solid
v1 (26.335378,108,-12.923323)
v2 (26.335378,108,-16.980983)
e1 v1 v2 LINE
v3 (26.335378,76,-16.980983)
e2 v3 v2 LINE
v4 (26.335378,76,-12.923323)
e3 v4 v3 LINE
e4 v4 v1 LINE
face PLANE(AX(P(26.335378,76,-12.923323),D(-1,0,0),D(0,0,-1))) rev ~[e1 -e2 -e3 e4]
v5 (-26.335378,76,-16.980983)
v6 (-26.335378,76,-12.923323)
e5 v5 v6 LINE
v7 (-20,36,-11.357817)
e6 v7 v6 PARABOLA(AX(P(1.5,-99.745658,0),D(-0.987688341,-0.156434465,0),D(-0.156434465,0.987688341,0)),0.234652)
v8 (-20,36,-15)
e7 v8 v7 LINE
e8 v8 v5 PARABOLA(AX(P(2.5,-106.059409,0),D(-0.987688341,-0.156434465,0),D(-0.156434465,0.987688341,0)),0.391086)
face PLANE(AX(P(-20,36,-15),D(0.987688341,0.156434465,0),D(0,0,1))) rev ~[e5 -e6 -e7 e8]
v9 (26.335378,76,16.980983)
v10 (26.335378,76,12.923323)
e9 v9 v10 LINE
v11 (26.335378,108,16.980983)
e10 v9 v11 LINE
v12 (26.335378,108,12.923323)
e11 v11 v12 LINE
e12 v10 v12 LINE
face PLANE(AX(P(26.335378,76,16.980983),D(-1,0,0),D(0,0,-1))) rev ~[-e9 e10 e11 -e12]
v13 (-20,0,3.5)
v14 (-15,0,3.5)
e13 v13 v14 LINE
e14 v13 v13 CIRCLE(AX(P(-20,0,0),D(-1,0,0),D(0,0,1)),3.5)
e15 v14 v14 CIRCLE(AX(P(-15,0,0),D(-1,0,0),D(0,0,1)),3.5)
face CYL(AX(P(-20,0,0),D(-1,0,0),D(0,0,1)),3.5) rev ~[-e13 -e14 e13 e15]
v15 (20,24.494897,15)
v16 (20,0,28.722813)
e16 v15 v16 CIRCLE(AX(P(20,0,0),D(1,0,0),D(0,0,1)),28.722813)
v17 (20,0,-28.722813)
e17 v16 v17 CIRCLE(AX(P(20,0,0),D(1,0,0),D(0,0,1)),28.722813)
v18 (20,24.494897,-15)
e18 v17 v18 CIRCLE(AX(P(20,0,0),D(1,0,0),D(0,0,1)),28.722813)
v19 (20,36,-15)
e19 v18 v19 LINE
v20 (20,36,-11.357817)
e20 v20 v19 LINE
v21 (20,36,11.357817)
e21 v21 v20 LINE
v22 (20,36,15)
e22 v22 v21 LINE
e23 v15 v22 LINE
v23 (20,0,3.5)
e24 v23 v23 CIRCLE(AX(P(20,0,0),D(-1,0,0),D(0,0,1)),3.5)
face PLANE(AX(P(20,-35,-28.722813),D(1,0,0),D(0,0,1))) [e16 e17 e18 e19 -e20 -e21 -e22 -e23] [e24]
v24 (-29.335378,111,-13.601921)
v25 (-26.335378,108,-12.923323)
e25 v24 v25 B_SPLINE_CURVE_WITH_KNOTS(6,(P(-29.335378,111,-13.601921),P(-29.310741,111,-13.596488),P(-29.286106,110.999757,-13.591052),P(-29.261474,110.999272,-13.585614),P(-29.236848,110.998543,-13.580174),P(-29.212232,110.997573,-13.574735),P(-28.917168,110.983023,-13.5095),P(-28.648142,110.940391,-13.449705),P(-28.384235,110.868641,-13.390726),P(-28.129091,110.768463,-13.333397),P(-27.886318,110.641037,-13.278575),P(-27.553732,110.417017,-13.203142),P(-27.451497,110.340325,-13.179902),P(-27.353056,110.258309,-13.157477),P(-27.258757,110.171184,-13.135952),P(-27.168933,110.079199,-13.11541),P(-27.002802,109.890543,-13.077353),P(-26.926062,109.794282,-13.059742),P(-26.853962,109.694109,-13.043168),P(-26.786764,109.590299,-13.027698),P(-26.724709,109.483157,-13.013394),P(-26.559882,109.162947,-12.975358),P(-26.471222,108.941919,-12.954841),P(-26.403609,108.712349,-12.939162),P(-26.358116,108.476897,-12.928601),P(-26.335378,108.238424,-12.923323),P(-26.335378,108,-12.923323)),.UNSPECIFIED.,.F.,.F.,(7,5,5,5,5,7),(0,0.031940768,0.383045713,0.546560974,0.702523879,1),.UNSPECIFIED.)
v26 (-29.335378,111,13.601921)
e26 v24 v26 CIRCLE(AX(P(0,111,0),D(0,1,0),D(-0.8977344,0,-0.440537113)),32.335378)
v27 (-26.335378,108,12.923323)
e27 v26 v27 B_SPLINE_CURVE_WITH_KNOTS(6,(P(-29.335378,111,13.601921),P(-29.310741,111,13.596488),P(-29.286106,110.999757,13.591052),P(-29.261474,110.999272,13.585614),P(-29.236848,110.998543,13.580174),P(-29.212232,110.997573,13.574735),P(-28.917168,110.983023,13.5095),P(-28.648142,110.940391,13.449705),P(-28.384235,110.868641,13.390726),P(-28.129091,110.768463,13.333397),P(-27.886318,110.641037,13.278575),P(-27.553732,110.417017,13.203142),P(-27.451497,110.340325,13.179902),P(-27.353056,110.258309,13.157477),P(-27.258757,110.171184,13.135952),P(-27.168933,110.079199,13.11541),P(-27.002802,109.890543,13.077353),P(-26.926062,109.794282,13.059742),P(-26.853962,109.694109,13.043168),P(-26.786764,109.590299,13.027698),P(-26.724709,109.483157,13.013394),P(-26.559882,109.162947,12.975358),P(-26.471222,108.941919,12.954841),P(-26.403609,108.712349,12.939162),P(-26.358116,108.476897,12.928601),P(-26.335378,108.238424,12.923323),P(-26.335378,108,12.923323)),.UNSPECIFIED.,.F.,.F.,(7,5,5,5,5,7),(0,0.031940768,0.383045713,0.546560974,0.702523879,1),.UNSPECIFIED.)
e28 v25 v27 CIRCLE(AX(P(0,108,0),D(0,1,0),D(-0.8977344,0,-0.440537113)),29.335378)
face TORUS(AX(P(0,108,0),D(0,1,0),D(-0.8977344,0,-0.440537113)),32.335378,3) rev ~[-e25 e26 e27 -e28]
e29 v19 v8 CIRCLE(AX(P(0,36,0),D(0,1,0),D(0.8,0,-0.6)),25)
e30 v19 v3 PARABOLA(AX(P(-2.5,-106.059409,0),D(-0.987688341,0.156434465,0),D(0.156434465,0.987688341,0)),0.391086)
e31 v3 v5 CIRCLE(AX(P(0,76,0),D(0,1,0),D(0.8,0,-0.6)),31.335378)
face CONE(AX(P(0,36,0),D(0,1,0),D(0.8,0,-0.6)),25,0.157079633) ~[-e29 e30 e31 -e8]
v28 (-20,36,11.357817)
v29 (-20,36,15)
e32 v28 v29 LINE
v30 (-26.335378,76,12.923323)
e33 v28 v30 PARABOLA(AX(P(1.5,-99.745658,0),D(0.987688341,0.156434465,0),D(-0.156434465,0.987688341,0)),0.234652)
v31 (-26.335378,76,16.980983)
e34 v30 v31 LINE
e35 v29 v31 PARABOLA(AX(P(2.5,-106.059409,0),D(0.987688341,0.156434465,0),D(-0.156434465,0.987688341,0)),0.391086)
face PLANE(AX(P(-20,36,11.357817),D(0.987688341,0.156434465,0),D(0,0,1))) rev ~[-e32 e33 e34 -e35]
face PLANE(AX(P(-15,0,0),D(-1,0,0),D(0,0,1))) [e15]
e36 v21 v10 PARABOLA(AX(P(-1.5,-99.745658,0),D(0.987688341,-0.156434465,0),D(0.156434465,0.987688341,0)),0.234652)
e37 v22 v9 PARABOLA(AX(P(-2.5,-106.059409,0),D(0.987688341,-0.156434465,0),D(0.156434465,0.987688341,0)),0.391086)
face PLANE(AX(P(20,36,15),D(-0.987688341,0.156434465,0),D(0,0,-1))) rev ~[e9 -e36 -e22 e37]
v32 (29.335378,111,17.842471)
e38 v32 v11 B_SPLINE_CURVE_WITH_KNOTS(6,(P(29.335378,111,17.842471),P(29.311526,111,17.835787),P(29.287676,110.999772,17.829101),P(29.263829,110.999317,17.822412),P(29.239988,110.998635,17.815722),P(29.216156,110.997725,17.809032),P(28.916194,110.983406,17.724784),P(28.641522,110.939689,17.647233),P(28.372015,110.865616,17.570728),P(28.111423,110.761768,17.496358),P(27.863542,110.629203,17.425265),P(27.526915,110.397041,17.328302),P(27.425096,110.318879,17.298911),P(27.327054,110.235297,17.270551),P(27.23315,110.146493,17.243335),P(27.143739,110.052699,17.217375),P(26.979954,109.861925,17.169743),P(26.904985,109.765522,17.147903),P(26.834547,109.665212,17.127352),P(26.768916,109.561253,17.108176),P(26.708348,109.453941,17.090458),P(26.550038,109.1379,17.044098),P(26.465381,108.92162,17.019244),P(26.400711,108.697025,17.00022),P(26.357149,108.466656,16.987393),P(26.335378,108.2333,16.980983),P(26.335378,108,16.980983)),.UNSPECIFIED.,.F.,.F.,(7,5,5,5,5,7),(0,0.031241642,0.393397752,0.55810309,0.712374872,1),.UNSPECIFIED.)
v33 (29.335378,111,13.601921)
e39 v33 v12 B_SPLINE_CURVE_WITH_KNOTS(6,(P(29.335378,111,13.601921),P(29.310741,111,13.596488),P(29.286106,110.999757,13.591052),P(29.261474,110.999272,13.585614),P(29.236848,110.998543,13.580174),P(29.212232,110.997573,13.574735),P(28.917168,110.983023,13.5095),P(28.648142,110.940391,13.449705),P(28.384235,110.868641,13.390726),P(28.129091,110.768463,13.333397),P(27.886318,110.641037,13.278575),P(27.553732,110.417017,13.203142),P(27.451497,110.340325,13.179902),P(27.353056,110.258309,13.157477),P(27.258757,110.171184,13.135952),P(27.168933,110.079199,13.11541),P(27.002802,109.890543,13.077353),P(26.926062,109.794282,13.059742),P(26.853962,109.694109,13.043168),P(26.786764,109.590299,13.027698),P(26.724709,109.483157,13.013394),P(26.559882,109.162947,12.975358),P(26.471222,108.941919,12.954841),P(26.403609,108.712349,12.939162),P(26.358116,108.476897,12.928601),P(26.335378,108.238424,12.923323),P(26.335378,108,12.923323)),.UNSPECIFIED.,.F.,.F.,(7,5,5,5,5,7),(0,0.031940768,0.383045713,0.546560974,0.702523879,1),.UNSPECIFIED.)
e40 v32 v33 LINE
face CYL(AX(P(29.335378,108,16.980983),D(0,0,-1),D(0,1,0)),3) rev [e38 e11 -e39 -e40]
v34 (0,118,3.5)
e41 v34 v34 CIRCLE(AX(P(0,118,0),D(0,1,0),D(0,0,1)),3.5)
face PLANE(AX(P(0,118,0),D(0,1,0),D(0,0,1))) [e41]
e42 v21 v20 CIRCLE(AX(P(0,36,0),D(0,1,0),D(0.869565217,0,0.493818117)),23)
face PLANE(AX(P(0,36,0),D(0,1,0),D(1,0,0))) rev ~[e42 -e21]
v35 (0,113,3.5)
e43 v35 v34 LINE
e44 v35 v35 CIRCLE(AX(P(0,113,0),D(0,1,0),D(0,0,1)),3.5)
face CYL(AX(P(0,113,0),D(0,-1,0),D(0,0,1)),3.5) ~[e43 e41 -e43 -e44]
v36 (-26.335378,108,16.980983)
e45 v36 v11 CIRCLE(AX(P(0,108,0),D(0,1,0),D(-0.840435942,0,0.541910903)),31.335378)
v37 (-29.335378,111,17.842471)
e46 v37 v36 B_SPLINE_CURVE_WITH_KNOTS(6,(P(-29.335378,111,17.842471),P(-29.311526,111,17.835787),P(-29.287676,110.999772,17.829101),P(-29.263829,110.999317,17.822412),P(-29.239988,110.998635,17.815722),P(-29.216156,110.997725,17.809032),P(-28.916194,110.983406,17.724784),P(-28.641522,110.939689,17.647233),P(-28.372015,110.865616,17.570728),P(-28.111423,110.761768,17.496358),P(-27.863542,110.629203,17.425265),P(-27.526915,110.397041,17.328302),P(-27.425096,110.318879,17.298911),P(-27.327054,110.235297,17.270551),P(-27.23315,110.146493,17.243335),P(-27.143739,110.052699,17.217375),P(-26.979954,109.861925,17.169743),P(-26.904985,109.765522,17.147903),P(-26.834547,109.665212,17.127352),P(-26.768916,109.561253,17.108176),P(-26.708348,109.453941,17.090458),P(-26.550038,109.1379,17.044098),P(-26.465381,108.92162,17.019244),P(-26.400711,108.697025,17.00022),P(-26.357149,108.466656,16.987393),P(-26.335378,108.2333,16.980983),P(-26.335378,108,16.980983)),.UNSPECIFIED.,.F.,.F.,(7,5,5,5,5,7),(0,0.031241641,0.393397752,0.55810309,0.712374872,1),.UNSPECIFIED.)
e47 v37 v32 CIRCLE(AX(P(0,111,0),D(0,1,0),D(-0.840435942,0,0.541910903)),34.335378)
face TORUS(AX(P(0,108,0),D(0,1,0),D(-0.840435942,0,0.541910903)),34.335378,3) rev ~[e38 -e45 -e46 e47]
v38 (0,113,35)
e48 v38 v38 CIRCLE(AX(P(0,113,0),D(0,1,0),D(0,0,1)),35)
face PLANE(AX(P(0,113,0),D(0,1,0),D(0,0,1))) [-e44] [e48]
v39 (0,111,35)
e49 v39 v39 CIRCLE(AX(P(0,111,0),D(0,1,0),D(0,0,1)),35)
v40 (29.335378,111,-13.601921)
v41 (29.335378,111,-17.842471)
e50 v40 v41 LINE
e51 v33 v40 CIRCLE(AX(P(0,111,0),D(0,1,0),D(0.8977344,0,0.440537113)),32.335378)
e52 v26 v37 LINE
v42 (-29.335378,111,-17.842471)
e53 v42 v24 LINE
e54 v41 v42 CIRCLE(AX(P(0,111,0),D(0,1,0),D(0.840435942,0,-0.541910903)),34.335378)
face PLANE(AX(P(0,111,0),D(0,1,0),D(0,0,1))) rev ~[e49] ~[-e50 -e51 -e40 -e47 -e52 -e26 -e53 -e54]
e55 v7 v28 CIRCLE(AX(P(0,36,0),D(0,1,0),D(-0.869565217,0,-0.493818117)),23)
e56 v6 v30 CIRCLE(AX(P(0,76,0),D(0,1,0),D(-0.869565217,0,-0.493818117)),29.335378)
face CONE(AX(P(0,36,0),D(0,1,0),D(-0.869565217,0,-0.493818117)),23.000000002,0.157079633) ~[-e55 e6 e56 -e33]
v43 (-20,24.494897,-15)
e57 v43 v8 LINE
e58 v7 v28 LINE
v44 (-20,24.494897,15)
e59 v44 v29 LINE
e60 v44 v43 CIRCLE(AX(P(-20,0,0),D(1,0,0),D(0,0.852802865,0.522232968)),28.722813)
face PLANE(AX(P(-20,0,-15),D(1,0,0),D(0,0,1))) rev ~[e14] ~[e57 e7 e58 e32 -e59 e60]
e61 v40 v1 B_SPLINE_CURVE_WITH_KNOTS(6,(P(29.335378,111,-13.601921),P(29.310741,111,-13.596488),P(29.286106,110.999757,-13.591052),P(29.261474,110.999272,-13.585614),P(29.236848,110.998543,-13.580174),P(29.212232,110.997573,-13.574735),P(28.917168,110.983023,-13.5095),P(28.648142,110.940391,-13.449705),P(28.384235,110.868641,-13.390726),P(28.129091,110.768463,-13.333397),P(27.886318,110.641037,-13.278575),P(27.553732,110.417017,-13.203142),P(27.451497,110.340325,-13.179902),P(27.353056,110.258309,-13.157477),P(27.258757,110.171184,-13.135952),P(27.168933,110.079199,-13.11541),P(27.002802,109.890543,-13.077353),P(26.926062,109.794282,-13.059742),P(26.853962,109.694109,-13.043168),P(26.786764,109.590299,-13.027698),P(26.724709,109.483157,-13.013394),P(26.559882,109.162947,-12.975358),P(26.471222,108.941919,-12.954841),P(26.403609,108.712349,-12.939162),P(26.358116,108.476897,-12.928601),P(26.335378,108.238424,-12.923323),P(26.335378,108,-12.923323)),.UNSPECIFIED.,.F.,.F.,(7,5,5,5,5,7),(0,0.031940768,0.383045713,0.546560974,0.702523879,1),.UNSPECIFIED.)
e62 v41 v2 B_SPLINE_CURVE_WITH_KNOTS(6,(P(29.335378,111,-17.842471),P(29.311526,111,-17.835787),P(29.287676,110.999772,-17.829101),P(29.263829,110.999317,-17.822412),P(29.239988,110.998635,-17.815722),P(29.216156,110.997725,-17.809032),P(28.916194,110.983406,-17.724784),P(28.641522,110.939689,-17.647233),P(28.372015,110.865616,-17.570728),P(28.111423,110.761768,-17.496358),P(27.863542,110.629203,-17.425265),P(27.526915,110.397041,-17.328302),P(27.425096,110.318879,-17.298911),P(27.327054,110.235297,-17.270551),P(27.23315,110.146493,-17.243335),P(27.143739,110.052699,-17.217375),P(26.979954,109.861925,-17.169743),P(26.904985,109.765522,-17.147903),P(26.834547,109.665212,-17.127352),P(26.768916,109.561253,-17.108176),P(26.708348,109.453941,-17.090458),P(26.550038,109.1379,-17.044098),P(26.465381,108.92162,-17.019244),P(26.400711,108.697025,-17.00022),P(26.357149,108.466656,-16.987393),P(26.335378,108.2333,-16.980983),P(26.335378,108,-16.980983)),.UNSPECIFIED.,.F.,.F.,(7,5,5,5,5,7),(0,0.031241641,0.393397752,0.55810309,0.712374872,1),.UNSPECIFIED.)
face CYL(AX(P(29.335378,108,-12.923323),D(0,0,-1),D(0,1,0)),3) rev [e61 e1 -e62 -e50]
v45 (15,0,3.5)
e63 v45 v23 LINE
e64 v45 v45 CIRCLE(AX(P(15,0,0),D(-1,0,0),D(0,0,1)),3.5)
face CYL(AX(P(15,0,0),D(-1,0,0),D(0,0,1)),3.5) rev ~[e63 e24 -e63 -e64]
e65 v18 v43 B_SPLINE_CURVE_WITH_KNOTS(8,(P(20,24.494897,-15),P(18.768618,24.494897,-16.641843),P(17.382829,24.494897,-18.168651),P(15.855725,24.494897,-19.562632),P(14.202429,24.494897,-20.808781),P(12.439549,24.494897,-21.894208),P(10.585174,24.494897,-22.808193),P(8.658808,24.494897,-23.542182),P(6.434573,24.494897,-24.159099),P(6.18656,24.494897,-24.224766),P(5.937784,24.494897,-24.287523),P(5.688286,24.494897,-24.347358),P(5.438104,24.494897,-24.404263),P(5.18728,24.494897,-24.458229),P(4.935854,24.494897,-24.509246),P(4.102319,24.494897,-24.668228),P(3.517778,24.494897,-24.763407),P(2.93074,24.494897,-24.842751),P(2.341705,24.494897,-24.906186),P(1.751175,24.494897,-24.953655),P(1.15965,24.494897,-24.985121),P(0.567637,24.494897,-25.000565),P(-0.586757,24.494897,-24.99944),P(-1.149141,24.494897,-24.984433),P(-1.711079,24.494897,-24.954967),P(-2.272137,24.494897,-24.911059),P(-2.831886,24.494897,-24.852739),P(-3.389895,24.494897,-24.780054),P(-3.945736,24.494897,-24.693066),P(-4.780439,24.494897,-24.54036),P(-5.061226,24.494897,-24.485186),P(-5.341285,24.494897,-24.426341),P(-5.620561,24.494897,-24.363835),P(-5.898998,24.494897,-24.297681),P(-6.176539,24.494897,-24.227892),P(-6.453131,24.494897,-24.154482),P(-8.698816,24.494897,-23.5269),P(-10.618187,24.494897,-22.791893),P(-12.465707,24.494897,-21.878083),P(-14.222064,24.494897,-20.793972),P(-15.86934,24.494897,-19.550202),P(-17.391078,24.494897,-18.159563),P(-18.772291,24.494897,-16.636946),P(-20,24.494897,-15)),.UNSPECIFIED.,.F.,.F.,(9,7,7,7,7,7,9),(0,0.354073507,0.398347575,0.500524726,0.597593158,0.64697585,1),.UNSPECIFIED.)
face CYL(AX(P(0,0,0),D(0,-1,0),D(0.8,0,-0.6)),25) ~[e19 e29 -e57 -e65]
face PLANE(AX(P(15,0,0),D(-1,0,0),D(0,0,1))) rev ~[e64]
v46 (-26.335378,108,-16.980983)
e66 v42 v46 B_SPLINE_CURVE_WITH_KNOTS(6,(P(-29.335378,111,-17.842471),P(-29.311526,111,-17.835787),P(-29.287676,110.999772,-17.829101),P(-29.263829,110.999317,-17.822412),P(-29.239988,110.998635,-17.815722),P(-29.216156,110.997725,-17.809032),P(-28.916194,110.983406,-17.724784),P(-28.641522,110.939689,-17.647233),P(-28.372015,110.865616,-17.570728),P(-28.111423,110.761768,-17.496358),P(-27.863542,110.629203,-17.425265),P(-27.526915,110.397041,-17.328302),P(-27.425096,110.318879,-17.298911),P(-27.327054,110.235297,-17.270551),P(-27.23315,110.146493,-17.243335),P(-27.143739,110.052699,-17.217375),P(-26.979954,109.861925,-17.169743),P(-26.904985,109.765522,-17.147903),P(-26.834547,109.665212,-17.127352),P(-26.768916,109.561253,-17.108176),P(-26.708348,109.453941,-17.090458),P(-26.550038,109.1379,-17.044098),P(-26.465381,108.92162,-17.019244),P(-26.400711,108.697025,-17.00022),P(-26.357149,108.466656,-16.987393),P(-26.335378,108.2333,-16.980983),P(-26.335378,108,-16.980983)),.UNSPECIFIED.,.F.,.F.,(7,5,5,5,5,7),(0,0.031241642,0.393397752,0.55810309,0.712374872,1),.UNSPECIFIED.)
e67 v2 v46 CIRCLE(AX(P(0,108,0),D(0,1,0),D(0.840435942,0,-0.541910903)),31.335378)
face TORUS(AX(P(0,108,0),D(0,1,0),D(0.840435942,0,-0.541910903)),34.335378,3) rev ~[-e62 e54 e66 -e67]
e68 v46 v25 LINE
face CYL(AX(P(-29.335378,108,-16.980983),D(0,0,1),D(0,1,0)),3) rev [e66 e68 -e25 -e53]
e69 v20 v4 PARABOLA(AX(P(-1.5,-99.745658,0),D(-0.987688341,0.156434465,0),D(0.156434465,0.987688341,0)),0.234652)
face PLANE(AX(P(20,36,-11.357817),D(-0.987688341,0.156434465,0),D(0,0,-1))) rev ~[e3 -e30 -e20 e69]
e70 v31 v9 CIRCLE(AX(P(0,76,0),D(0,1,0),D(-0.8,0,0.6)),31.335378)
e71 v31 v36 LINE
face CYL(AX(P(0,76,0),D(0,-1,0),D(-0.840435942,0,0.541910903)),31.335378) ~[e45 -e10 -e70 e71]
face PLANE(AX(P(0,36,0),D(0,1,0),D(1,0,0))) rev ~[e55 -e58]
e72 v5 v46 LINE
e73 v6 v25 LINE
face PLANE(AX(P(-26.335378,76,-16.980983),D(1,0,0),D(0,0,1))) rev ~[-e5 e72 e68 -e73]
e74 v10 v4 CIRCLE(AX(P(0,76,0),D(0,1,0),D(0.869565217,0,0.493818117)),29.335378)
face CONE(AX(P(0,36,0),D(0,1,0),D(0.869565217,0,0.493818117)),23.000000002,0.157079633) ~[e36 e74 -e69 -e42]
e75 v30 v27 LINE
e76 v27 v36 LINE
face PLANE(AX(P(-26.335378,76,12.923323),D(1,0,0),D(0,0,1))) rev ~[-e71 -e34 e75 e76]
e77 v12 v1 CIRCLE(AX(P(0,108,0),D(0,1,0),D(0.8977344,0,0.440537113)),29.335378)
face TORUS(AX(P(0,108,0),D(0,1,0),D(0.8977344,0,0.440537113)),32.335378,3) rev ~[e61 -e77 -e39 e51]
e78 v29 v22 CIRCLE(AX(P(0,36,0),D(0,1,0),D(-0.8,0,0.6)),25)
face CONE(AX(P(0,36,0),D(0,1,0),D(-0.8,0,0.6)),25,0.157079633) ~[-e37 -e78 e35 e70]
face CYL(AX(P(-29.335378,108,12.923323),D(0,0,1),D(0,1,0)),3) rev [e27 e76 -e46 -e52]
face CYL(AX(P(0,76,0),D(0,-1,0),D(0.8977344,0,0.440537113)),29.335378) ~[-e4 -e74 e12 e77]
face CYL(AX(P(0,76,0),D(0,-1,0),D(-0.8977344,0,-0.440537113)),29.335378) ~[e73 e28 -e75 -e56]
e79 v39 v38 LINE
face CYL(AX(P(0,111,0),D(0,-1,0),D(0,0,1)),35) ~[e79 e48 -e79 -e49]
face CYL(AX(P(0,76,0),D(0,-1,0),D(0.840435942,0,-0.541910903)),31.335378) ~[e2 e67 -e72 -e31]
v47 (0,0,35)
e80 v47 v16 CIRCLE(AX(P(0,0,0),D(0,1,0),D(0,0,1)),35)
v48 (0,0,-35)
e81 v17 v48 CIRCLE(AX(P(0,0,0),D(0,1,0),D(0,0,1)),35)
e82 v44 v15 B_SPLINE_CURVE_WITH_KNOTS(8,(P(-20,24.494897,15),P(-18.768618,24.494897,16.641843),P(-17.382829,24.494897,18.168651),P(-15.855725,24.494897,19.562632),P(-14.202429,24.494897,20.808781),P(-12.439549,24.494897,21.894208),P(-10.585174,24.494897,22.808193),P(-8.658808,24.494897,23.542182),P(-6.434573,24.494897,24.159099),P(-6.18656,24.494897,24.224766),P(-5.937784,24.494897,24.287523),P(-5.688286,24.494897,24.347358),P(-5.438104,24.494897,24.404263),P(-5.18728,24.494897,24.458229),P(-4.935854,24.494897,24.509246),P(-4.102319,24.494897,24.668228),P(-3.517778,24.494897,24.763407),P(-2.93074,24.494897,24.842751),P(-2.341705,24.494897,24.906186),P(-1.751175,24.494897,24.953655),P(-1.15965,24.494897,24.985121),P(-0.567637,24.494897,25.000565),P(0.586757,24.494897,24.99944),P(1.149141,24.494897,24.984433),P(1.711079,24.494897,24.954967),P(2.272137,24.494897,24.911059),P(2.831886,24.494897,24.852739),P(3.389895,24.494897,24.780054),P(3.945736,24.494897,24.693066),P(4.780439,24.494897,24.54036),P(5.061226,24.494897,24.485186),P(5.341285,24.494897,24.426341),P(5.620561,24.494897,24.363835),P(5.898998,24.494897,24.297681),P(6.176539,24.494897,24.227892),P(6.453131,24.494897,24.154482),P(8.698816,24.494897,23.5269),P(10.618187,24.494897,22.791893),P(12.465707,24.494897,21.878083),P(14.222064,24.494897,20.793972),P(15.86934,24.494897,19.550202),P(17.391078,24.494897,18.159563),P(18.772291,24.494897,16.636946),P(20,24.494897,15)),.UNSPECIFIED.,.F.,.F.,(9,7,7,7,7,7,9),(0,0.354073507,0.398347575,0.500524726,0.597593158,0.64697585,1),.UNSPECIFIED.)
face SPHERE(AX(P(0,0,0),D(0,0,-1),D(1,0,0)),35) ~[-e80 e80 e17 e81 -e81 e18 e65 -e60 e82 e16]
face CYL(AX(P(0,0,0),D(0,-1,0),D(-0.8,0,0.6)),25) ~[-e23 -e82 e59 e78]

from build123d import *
from build123d.topology import SkipClean

# Parameters (mm, degrees)
CUT_EXTRUDE1_DEPTH      = 35
CUT_EXTRUDE1_DEPTH_BACK = 35
SKETCH2_OUTSIDE_W       = 96.248
SKETCH2_OUTSIDE_H       = 96.248
BOSS_EXTRUDE1_DEPTH     = 36
SKETCH4_R               = 3.5
CUT_EXTRUDE2_DEPTH      = 5
LPATTERN1_COUNT         = 2
LPATTERN1_PITCH         = 35
BOSS_EXTRUDE2_DEPTH     = 40
BOSS_EXTRUDE2_DRAFT     = -9
BOSS_EXTRUDE6_DEPTH     = 35
SKETCH10_R              = 35
BOSS_EXTRUDE7_DEPTH     = 2
FILLET5_R               = 3
SKETCH11_R              = 3.5
BOSS_EXTRUDE8_DEPTH     = 5


with BuildPart() as part:
    # Sketch1 → Revolve2 (revolve)
    with BuildSketch(Plane(origin=(0, 0, 0), x_dir=(1, 0, 0), z_dir=(0, 1, 0))):
        with BuildLine():
            Line((0, 35), (0, -35))
            ThreePointArc((0, -35), (35, 0), (0, 35))
        make_face()
    revolve(axis=Axis((0, 0, -35), (0, 0, 1)))

    # Sketch2 outside → Cut-Extrude1 (cut, two sides: drawn at the far end of the back side and taken through both)
    with SkipClean():  # the faces are left unmerged after this step: merging them gives an invalid solid
        with BuildSketch(Plane(origin=(0, 0, 0), x_dir=(1, 0, 0), z_dir=(0, 1, 0)).offset(-CUT_EXTRUDE1_DEPTH_BACK)):
            Rectangle(SKETCH2_OUTSIDE_W, SKETCH2_OUTSIDE_H)
            with BuildLine():
                Line((-20, -28.722813233), (-20, 28.722813233))
                ThreePointArc((-20, 28.722813233), (0, 35), (20, 28.722813233))
                Line((20, 28.722813233), (20, -28.722813233))
                ThreePointArc((20, -28.722813233), (0, -35), (-20, -28.722813233))
            make_face(mode=Mode.SUBTRACT)
        extrude(amount=CUT_EXTRUDE1_DEPTH + CUT_EXTRUDE1_DEPTH_BACK, mode=Mode.SUBTRACT)

    # Sketch3 → Boss-Extrude1 (add)
    with BuildSketch(Plane(origin=(0, 0, 0), x_dir=(1, 0, 0), z_dir=(0, 1, 0))):
        with BuildLine():
            Line((-20, 15), (-20, -15))
            ThreePointArc((-20, -15), (0, -25), (20, -15))
            Line((20, -15), (20, 15))
            ThreePointArc((20, 15), (0, 25), (-20, 15))
        make_face()
    extrude(amount=BOSS_EXTRUDE1_DEPTH)

    # Sketch4 → Cut-Extrude2 (cut)
    with BuildSketch(Plane.ZY.offset(20)):
        Circle(SKETCH4_R)
    cut_extrude2 = extrude(amount=-CUT_EXTRUDE2_DEPTH, mode=Mode.SUBTRACT)

    # LPattern1: Cut-Extrude2 ×2
    with Locations(*[(i * LPATTERN1_PITCH, 0, 0) for i in range(1, LPATTERN1_COUNT)]):
        add(cut_extrude2, mode=Mode.SUBTRACT)


with BuildPart() as boss_extrude2_tool:
    # Sketch5 → Boss-Extrude2 (with draft: the straight prism first)
    with BuildSketch(Plane(origin=(0, 36, 0), x_dir=(1, 0, 0), z_dir=(0, 1, 0))):
        with BuildLine():
            Line((-20, 15), (-20, 11.357816692))
            ThreePointArc((-20, 11.357816692), (-23, 0), (-20, -11.357816692))
            Line((-20, -11.357816692), (-20, -15))
            ThreePointArc((-20, -15), (0, -25), (20, -15))
            Line((20, -15), (20, -11.357816692))
            ThreePointArc((20, -11.357816692), (23, 0), (20, 11.357816692))
            Line((20, 11.357816692), (20, 15))
            ThreePointArc((20, 15), (0, 25), (-20, 15))
        make_face()
    extrude(amount=BOSS_EXTRUDE2_DEPTH)
    # Boss-Extrude2: the draft: its side faces are tilted about the plane it starts from
    boss_extrude2_sides = [boss_extrude2_tool.faces().sort_by_distance(p)[0] for p in [
        (20, 56, -13.178908346),
        (0, 56, -25),
        (-20, 56, -13.178908346),
        (-23, 56, 0),
        (-20, 56, 13.178908346),
        (0, 56, 25),
        (20, 56, 13.178908346),
        (23, 56, 0),
    ]]
    draft(boss_extrude2_sides, Plane(origin=(0, 36, 0), x_dir=(1, 0, 0), z_dir=(0, 1, 0)), BOSS_EXTRUDE2_DRAFT)


with BuildPart() as part_1:
    add(part.part)

    # Boss-Extrude2: add boss_extrude2_tool
    add(boss_extrude2_tool.part)

    # Sketch9 → Boss-Extrude6 (add)
    with BuildSketch(Plane(origin=(0, 76, 0), x_dir=(1, 0, 0), z_dir=(0, 1, 0))):
        with BuildLine():
            Line((26.335377613, 12.923322548), (26.335377613, 16.980982779))
            ThreePointArc((26.335377613, 16.980982779), (0, 31.335377613), (-26.335377613, 16.980982779))
            Line((-26.335377613, 16.980982779), (-26.335377613, 12.923322548))
            ThreePointArc((-26.335377613, 12.923322548), (-29.335377613, 0), (-26.335377613, -12.923322548))
            Line((-26.335377613, -12.923322548), (-26.335377613, -16.980982779))
            ThreePointArc((-26.335377613, -16.980982779), (0, -31.335377613), (26.335377613, -16.980982779))
            Line((26.335377613, -16.980982779), (26.335377613, -12.923322548))
            ThreePointArc((26.335377613, -12.923322548), (29.335377613, 0), (26.335377613, 12.923322548))
        make_face()
    extrude(amount=BOSS_EXTRUDE6_DEPTH)

    # Sketch10 → Boss-Extrude7 (add)
    with BuildSketch(Plane(origin=(0, 111, 0), x_dir=(1, 0, 0), z_dir=(0, 1, 0))):
        with Locations(Location((0, 0, 0), (0, 0, 270))):
            Circle(SKETCH10_R)
    extrude(amount=BOSS_EXTRUDE7_DEPTH)

    # Fillet5
    fillet5_edges = [part_1.edges().sort_by_distance(p)[0] for p in [
        (29.335377613, 111, 0),
        (26.335377613, 111, -14.952152663),
        (0, 111, -31.335377613),
        (-26.335377613, 111, -14.952152663),
        (-29.335377613, 111, 0),
        (-26.335377613, 111, 14.952152663),
        (0, 111, 31.335377613),
        (26.335377613, 111, 14.952152663),
    ]]
    fillet(fillet5_edges, radius=FILLET5_R)

    # Sketch11 → Boss-Extrude8 (add)
    with BuildSketch(Plane(origin=(0, 113, 0), x_dir=(1, 0, 0), z_dir=(0, 1, 0))):
        with Locations(Location((0, 0, 0), (0, 0, 270))):
            Circle(SKETCH11_R)
    extrude(amount=BOSS_EXTRUDE8_DEPTH)


solid = part_1.part
